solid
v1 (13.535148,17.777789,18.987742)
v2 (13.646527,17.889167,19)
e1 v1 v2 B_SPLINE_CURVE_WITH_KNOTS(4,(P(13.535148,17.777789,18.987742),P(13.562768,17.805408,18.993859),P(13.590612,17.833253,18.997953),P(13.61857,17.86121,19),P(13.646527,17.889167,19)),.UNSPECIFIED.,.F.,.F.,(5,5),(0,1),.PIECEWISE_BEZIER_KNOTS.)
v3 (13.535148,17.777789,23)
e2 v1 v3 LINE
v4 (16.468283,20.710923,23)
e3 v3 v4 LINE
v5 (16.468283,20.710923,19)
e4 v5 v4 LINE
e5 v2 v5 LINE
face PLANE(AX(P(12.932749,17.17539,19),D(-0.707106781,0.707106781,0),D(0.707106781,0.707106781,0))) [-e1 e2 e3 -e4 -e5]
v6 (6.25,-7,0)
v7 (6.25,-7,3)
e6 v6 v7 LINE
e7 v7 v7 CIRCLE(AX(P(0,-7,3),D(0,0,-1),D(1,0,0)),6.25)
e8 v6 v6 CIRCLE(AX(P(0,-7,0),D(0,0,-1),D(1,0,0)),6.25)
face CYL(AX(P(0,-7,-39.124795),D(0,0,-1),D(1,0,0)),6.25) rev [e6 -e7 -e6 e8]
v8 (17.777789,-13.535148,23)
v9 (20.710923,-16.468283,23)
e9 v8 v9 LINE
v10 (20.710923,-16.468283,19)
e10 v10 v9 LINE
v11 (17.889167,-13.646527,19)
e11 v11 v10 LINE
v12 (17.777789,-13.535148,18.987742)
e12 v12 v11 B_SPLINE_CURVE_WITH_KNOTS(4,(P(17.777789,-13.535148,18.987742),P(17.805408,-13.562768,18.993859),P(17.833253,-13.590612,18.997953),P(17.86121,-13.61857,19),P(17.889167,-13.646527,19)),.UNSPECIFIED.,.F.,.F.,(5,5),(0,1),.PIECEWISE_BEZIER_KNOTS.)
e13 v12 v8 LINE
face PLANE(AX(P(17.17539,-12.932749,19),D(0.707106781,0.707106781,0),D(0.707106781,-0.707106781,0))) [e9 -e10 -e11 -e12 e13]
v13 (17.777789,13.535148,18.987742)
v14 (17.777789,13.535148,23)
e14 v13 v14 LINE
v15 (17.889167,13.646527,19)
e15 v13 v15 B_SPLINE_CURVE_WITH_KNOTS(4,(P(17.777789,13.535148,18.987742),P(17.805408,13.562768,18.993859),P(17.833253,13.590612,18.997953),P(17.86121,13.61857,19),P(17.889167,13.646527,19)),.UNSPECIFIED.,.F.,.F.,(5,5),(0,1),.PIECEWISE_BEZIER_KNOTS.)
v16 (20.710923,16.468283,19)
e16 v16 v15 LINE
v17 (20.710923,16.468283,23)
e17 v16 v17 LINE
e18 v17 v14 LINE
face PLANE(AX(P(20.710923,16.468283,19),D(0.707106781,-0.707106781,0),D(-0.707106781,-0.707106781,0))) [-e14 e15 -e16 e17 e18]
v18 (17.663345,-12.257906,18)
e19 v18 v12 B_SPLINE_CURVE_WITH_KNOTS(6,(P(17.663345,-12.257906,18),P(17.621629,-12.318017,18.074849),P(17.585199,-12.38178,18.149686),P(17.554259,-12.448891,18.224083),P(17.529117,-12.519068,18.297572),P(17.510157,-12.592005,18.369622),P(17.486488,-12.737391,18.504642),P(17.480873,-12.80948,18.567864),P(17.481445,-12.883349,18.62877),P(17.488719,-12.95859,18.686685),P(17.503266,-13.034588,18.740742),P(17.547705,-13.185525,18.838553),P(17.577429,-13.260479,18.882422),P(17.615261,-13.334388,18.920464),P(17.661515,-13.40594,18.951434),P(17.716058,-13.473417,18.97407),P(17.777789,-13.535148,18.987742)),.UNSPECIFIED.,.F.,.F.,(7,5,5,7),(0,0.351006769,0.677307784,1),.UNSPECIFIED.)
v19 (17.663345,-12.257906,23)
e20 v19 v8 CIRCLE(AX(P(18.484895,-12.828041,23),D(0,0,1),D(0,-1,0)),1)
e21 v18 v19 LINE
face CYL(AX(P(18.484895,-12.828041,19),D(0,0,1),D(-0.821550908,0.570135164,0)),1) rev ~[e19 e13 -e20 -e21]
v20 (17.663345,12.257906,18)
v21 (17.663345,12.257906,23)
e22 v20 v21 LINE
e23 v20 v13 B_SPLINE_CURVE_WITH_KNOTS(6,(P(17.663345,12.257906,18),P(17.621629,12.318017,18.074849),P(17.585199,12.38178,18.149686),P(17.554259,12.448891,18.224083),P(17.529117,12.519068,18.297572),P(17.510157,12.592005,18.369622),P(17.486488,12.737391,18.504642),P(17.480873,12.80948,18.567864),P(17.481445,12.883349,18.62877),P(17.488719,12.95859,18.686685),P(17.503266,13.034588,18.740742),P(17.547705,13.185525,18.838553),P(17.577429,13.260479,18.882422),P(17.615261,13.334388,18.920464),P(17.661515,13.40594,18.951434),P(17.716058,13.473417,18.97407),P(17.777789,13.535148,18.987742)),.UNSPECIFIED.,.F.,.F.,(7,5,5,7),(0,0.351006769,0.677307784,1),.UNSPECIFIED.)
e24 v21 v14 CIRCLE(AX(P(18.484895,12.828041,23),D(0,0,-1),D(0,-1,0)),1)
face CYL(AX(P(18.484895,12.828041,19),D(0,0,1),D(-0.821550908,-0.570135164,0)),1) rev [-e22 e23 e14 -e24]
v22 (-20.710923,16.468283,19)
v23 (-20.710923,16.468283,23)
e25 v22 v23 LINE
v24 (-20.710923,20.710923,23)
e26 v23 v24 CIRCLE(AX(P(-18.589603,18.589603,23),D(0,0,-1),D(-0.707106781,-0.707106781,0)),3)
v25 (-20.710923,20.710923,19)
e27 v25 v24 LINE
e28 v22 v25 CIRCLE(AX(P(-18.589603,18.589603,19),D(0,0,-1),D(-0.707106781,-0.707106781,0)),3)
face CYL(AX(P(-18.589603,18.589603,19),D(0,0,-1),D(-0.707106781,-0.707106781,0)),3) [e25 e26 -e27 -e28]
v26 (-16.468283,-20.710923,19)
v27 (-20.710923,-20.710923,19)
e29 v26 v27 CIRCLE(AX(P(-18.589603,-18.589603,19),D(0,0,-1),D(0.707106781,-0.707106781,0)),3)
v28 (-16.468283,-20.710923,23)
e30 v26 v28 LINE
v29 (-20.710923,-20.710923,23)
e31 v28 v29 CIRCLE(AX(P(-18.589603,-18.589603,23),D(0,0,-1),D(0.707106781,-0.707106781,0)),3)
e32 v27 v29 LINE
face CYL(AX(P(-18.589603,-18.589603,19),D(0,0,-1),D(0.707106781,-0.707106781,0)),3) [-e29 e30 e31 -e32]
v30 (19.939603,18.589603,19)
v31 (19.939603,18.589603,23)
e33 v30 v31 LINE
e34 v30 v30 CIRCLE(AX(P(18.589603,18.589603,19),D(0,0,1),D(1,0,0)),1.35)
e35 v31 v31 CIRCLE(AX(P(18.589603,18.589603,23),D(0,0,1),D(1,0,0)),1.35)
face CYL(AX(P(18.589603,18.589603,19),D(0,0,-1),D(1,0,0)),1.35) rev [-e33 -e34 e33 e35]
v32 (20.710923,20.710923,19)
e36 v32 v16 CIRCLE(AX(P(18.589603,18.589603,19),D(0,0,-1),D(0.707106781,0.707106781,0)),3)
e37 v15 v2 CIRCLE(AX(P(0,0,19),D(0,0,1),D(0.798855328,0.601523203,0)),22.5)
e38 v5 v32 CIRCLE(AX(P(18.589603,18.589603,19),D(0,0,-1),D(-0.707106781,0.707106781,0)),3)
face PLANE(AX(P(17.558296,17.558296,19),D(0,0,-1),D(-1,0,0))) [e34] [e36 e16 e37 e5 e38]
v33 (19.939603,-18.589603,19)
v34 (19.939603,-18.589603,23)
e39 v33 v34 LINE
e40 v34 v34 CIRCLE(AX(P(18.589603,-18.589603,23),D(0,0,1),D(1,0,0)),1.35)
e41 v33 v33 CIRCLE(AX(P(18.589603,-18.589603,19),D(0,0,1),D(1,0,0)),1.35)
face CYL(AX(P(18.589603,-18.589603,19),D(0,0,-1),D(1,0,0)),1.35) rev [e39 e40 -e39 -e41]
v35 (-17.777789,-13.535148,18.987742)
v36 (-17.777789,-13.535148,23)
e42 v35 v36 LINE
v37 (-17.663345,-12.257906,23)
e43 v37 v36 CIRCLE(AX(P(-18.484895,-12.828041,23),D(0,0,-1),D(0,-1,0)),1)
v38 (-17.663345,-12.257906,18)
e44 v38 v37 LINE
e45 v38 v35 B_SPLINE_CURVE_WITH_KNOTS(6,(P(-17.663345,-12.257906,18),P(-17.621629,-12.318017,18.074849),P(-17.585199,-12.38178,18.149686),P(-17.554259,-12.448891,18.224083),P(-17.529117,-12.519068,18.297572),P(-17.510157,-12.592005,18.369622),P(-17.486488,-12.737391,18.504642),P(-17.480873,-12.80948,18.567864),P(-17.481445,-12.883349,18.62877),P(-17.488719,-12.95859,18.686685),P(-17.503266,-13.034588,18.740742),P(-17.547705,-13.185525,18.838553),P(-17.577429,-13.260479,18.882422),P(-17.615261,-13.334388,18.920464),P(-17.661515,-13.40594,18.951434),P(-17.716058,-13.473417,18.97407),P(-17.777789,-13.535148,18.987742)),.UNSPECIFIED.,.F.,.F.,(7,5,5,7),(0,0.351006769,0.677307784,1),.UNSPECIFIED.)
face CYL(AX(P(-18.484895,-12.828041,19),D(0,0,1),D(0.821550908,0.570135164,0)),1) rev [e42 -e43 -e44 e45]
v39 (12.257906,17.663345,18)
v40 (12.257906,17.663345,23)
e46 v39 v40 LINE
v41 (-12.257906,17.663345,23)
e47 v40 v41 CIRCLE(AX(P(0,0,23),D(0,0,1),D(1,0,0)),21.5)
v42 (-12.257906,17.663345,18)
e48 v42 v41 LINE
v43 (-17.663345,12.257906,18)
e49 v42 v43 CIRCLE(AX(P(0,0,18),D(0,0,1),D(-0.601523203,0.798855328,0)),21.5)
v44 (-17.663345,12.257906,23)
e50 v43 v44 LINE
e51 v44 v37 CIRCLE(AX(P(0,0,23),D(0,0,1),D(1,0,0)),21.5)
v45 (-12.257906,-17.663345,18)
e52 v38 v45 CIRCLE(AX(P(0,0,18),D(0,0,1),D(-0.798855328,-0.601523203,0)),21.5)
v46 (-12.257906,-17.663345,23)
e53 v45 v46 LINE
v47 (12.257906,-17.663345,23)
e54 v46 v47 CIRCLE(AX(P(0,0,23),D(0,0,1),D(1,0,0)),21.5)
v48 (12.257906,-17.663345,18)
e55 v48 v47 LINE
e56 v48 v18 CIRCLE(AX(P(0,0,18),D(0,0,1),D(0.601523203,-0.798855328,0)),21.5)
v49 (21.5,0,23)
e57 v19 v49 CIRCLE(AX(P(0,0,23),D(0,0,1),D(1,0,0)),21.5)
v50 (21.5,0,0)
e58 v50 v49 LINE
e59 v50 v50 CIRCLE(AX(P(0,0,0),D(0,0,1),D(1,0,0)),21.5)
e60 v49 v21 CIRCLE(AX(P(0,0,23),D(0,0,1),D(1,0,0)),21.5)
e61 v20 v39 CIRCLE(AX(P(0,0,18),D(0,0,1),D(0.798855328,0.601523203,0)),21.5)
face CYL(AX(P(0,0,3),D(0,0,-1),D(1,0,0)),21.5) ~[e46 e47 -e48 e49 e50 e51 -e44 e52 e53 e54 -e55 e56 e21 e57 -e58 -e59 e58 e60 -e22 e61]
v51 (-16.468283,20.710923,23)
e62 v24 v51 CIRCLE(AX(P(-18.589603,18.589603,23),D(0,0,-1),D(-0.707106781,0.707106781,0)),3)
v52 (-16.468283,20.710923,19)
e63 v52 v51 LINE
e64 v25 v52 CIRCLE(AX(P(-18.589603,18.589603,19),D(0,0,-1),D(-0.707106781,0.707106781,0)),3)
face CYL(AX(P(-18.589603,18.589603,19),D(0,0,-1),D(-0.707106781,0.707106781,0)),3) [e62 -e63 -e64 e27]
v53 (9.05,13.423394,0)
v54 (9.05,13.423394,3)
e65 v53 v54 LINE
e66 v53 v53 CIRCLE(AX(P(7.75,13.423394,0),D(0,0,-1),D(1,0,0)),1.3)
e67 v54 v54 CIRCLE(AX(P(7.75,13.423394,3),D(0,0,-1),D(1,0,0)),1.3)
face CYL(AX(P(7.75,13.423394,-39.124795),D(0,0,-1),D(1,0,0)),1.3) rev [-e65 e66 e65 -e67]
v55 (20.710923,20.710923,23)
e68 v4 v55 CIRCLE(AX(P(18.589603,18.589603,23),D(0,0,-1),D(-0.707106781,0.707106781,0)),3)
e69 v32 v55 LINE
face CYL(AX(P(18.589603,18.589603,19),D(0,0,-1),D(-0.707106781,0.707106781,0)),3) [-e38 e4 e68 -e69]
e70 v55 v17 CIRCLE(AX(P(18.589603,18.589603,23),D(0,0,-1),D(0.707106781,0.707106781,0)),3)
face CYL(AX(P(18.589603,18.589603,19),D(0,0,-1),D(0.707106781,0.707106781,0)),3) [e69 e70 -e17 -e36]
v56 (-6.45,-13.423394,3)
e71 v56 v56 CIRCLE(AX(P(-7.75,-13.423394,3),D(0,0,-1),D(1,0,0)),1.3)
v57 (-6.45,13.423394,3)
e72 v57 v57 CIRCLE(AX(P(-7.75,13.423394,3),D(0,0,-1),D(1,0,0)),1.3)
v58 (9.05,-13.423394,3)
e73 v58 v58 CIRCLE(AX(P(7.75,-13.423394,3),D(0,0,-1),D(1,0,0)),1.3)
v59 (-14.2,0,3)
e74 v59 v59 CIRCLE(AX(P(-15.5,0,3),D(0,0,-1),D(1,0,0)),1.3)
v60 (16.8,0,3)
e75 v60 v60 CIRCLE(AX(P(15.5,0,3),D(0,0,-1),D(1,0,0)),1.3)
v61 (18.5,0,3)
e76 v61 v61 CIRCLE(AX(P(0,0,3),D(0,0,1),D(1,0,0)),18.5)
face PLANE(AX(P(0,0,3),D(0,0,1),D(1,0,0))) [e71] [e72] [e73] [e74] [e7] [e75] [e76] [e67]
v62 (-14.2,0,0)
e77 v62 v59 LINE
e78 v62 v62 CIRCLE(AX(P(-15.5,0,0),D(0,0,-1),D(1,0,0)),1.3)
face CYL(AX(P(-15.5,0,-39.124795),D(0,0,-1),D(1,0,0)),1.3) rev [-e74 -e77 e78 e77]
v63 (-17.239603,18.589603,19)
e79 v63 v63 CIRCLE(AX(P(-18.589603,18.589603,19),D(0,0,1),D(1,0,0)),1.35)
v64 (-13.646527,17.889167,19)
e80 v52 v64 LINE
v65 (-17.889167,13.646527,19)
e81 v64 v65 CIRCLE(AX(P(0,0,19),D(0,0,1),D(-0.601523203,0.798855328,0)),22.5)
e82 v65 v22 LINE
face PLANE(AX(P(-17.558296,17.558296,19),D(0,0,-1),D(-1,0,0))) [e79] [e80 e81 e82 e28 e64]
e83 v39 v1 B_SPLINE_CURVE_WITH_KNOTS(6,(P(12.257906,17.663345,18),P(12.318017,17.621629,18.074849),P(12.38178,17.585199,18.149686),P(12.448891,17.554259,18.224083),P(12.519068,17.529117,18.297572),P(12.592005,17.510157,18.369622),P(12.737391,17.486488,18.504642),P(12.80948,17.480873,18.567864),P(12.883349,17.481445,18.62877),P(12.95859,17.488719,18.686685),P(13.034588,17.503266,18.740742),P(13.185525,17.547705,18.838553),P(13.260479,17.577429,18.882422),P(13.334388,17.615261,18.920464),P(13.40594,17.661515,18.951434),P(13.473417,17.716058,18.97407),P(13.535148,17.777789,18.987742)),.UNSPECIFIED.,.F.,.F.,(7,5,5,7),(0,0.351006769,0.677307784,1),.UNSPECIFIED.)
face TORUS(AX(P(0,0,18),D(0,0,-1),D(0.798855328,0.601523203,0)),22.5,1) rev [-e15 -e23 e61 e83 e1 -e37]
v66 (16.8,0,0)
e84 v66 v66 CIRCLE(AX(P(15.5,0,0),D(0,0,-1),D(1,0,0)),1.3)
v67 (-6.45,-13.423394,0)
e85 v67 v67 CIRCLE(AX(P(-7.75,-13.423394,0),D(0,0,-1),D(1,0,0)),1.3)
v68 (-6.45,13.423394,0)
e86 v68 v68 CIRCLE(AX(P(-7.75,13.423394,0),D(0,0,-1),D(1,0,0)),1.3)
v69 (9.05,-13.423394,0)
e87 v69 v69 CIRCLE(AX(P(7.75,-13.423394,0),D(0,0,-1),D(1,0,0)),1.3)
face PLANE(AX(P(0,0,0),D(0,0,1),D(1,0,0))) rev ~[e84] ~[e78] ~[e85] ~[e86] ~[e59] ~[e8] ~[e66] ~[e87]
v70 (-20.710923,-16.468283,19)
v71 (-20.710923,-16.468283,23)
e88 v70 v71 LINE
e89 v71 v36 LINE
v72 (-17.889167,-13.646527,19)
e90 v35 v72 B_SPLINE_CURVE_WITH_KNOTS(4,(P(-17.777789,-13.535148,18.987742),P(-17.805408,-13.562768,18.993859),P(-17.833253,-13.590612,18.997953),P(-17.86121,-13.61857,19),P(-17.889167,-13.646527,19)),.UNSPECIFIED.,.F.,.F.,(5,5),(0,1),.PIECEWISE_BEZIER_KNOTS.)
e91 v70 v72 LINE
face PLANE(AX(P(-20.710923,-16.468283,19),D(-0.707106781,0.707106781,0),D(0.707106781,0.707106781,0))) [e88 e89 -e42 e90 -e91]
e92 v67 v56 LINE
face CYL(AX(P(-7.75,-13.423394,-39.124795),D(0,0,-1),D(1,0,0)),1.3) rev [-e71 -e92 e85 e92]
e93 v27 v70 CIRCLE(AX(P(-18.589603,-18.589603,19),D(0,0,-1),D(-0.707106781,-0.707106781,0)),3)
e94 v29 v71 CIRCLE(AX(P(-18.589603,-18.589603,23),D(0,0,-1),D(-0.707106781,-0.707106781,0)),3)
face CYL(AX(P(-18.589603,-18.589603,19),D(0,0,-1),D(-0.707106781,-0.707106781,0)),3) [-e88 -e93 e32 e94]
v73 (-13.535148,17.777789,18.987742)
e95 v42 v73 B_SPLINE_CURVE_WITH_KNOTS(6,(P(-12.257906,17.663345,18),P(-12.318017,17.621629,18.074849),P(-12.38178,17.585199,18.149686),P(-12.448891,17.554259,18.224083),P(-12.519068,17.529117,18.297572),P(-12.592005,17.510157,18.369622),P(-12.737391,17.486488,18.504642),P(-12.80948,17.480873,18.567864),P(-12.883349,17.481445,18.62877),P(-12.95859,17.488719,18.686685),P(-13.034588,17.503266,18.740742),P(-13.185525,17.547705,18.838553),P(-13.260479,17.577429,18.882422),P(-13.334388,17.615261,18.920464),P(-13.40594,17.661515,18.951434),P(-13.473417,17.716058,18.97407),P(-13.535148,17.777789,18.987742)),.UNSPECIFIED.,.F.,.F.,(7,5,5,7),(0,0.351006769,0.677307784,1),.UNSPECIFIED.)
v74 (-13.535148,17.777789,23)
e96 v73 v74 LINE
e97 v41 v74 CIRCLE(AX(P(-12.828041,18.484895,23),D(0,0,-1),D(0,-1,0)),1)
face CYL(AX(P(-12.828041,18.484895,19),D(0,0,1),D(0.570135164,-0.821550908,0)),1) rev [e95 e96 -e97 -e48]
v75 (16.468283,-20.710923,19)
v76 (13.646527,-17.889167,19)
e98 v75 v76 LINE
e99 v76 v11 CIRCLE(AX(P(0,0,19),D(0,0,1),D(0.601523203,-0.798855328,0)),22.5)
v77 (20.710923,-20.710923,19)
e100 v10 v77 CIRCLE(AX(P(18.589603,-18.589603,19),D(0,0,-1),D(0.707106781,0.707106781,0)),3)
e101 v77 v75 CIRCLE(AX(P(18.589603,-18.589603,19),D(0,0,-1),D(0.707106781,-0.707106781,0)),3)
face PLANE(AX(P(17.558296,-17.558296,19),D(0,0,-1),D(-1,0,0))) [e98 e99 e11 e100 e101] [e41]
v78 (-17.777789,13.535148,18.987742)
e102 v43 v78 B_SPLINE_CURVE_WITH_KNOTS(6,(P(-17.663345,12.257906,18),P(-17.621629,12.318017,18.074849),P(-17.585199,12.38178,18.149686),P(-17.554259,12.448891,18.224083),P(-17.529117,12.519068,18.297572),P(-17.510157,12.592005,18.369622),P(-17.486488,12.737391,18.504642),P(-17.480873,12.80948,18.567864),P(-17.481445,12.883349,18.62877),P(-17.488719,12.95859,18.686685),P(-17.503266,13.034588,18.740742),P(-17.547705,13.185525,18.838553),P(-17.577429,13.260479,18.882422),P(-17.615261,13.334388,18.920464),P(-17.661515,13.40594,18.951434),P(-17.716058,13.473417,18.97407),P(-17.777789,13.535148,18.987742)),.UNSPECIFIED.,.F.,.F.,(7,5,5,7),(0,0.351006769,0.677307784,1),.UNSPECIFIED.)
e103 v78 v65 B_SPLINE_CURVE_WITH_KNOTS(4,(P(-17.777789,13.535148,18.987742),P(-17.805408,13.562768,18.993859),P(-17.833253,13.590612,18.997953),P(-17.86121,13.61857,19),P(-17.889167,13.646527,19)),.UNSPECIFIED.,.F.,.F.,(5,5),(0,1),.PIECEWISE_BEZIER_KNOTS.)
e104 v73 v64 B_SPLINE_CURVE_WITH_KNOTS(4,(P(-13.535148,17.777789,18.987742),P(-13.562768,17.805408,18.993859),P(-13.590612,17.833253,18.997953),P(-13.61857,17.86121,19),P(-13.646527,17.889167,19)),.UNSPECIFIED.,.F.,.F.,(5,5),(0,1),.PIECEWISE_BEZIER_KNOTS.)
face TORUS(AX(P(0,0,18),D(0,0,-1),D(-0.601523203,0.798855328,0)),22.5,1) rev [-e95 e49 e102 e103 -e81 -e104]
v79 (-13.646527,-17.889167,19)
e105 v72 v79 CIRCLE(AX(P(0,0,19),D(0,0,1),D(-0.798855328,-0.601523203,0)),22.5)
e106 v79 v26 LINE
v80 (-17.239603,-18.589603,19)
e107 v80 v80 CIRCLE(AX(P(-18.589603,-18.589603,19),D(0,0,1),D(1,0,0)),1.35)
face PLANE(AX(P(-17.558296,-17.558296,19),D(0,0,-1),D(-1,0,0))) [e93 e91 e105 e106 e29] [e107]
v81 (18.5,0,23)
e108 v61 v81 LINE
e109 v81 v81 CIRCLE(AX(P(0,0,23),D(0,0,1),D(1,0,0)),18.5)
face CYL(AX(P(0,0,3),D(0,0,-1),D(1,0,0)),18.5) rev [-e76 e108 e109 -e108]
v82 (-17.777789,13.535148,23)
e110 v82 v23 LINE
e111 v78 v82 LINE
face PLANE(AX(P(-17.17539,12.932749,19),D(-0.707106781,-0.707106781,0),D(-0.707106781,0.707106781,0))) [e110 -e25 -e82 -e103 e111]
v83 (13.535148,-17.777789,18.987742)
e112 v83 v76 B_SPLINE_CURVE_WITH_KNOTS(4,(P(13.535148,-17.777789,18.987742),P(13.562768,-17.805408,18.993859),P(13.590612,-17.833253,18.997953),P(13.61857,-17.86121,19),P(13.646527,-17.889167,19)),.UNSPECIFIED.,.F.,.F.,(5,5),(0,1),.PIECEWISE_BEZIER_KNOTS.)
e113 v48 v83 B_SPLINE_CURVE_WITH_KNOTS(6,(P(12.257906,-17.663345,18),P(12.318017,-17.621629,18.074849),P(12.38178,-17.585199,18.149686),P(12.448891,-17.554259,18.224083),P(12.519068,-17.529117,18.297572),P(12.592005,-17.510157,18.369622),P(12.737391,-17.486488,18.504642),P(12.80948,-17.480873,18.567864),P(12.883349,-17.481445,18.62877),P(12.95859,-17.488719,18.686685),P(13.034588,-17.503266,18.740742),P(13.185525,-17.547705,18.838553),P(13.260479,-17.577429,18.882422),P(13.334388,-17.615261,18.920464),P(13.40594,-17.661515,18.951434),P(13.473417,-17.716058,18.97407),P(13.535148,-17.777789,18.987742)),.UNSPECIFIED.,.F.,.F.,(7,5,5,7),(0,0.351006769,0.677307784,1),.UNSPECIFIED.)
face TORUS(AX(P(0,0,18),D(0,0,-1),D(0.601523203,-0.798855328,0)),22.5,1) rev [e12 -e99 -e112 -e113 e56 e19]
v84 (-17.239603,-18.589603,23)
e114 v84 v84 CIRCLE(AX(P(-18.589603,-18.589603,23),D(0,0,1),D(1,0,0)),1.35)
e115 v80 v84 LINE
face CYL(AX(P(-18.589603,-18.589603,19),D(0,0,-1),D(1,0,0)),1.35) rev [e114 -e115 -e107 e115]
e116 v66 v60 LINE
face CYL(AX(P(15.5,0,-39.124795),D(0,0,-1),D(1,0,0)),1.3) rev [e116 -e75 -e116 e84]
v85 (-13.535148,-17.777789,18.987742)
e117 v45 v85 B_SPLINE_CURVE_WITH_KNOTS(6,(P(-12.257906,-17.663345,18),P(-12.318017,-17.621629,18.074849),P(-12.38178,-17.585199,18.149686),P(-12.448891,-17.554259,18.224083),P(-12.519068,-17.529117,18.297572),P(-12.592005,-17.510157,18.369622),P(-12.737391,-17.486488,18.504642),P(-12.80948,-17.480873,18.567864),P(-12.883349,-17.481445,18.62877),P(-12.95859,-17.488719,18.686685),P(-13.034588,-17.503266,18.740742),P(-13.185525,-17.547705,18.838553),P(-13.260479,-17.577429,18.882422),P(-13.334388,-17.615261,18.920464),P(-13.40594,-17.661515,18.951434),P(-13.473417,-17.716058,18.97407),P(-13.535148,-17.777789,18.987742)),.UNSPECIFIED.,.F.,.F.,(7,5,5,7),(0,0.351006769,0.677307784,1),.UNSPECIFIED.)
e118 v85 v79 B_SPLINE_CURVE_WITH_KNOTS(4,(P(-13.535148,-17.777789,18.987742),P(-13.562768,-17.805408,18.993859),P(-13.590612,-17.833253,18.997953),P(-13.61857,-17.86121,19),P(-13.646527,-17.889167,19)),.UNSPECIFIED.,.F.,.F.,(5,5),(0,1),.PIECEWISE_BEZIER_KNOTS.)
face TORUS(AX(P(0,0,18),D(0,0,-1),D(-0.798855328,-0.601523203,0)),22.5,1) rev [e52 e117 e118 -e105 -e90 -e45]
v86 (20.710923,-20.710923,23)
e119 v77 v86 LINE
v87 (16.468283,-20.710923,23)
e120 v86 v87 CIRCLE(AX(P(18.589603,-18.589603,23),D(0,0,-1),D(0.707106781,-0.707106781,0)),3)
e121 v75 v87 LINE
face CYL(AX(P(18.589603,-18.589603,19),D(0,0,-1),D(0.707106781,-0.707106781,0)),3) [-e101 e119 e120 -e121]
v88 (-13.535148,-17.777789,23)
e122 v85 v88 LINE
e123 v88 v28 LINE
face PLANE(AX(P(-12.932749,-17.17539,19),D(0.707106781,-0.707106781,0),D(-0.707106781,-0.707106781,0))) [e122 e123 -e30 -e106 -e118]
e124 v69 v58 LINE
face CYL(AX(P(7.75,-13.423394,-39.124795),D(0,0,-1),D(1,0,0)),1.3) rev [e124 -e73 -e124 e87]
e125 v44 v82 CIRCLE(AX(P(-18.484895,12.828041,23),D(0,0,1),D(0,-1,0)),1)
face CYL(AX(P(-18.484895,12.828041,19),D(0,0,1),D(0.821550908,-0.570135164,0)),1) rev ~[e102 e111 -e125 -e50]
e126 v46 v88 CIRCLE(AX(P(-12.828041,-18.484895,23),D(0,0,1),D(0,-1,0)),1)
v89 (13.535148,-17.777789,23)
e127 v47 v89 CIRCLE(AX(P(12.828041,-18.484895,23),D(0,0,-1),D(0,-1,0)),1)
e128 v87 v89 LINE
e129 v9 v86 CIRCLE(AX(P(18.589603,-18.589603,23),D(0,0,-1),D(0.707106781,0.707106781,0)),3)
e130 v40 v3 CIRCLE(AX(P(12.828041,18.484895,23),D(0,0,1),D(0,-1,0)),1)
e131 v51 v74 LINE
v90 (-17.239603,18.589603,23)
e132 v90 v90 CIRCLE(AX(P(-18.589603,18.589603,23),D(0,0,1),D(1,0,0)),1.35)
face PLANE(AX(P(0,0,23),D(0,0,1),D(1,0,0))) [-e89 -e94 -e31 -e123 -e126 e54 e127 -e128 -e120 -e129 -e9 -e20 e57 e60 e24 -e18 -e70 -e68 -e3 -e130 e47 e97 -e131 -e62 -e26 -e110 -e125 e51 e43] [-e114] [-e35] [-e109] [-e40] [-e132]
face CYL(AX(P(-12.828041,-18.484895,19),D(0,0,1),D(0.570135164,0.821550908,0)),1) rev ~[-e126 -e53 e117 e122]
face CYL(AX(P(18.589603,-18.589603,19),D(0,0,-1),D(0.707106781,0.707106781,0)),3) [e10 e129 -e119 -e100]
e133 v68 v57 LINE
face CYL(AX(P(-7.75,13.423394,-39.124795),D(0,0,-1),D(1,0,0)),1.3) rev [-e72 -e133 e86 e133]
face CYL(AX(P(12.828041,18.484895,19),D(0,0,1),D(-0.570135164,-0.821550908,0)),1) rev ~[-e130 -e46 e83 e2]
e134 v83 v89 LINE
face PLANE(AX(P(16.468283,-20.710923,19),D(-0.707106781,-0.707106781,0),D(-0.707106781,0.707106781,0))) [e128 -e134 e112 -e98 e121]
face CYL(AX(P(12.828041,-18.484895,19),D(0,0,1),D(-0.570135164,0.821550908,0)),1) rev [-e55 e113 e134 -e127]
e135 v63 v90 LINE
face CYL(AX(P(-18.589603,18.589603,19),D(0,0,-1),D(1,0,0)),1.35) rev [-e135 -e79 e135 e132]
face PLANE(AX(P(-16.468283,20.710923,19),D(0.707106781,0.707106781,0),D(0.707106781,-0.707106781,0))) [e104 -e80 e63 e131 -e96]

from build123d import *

# Parameters (mm, degrees)
SKETCH1_R               = 21.5
BOSS_EXTRUDE1_DEPTH     = 3
BOSS_EXTRUDE2_START     = 3
SKETCH1_3_R             = 21.5
SKETCH1_3_R_2           = 18.5
BOSS_EXTRUDE2_DEPTH     = 20
CUT_EXTRUDE1_DEPTH      = 39.124795081
CUT_EXTRUDE1_DEPTH_BACK = 39.124795081
SKETCH3_R               = 6.25
SKETCH3_R_2             = 1.3
BOSS_EXTRUDE3_START     = 19
SKETCH4_R               = 1.35
BOSS_EXTRUDE3_DEPTH     = 4
FILLET1_R               = 1


with BuildPart() as part:
    # Sketch1 → Boss-Extrude1 (new body)
    with BuildSketch(Plane.XY):
        Circle(SKETCH1_R)
    extrude(amount=BOSS_EXTRUDE1_DEPTH)

    # Sketch1<3> → Boss-Extrude2 (add)
    with BuildSketch(Plane.XY.offset(BOSS_EXTRUDE2_START)):
        Circle(SKETCH1_3_R)
        Circle(SKETCH1_3_R_2, mode=Mode.SUBTRACT)
    extrude(amount=BOSS_EXTRUDE2_DEPTH)

    # Sketch3 → Cut-Extrude1 (cut, two sides: drawn at the far end of the back side and taken through both)
    with BuildSketch(Plane.XY.offset(-CUT_EXTRUDE1_DEPTH_BACK)):
        with Locations((0, -7)):
            Circle(SKETCH3_R)
        with Locations((7.75, 13.423393759)):
            Circle(SKETCH3_R_2)
        with Locations((-7.75, 13.423393759)):
            Circle(SKETCH3_R_2)
        with Locations((15.5, 0)):
            Circle(SKETCH3_R_2)
        with Locations((-15.5, 0)):
            Circle(SKETCH3_R_2)
        with Locations((7.75, -13.423393759)):
            Circle(SKETCH3_R_2)
        with Locations((-7.75, -13.423393759)):
            Circle(SKETCH3_R_2)
    extrude(amount=CUT_EXTRUDE1_DEPTH + CUT_EXTRUDE1_DEPTH_BACK, mode=Mode.SUBTRACT)

    # Sketch4 → Boss-Extrude3 (add)
    # profile 1 of 4: a face of its own
    with BuildSketch(Plane.XY.offset(BOSS_EXTRUDE3_START)):
        with BuildLine():
            Line((-17.175389561, 12.932748874), (-20.710923467, 16.46828278))
            ThreePointArc((-20.710923467, 16.46828278), (-21.589603123, 18.589603123), (-20.710923467, 20.710923467))
            ThreePointArc((-20.710923467, 20.710923467), (-18.589603123, 21.589603123), (-16.46828278, 20.710923467))
            Line((-16.46828278, 20.710923467), (-12.932748874, 17.175389561))
            ThreePointArc((-12.932748874, 17.175389561), (-15.202795796, 15.202795796), (-17.175389561, 12.932748874))
        make_face()
        with Locations((-18.589603123, 18.589603123)):
            Circle(SKETCH4_R, mode=Mode.SUBTRACT)
    # profile 2 of 4: a face of its own
    with BuildSketch(Plane.XY.offset(BOSS_EXTRUDE3_START)):
        with BuildLine():
            Line((12.932748874, 17.175389561), (16.46828278, 20.710923467))
            ThreePointArc((16.46828278, 20.710923467), (18.589603123, 21.589603123), (20.710923467, 20.710923467))
            ThreePointArc((20.710923467, 20.710923467), (21.589603123, 18.589603123), (20.710923467, 16.46828278))
            Line((20.710923467, 16.46828278), (17.175389561, 12.932748874))
            ThreePointArc((17.175389561, 12.932748874), (15.202795796, 15.202795796), (12.932748874, 17.175389561))
        make_face()
        with Locations((18.589603123, 18.589603123)):
            Circle(SKETCH4_R, mode=Mode.SUBTRACT)
    # profile 3 of 4: a face of its own
    with BuildSketch(Plane.XY.offset(BOSS_EXTRUDE3_START)):
        with BuildLine():
            Line((17.175389561, -12.932748874), (20.710923467, -16.46828278))
            ThreePointArc((20.710923467, -16.46828278), (21.589603123, -18.589603123), (20.710923467, -20.710923467))
            ThreePointArc((20.710923467, -20.710923467), (18.589603123, -21.589603123), (16.46828278, -20.710923467))
            Line((16.46828278, -20.710923467), (12.932748874, -17.175389561))
            ThreePointArc((12.932748874, -17.175389561), (15.202795796, -15.202795796), (17.175389561, -12.932748874))
        make_face()
        with Locations((18.589603123, -18.589603123)):
            Circle(SKETCH4_R, mode=Mode.SUBTRACT)
    # profile 4 of 4: a face of its own
    with BuildSketch(Plane.XY.offset(BOSS_EXTRUDE3_START)):
        with BuildLine():
            Line((-12.932748874, -17.175389561), (-16.46828278, -20.710923467))
            ThreePointArc((-16.46828278, -20.710923467), (-18.589603123, -21.589603123), (-20.710923467, -20.710923467))
            ThreePointArc((-20.710923467, -20.710923467), (-21.589603123, -18.589603123), (-20.710923467, -16.46828278))
            Line((-20.710923467, -16.46828278), (-17.175389561, -12.932748874))
            ThreePointArc((-17.175389561, -12.932748874), (-15.202795796, -15.202795796), (-12.932748874, -17.175389561))
        make_face()
        with Locations((-18.589603123, -18.589603123)):
            Circle(SKETCH4_R, mode=Mode.SUBTRACT)
    extrude(amount=BOSS_EXTRUDE3_DEPTH)

    # Fillet1
    fillet1_edges = [part.edges().sort_by_distance(p)[0] for p in [
        (-17.175389561, -12.932748874, 21),
        (-12.932748874, -17.175389561, 21),
        (-15.202795796, -15.202795796, 19),
        (-12.932748874, 17.175389561, 21),
        (-17.175389561, 12.932748874, 21),
        (-15.202795796, 15.202795796, 19),
        (17.175389561, 12.932748874, 21),
        (12.932748874, 17.175389561, 21),
        (15.202795796, 15.202795796, 19),
        (12.932748874, -17.175389561, 21),
        (17.175389561, -12.932748874, 21),
        (15.202795796, -15.202795796, 19),
    ]]
    fillet(fillet1_edges, radius=FILLET1_R)


solid = part.part
